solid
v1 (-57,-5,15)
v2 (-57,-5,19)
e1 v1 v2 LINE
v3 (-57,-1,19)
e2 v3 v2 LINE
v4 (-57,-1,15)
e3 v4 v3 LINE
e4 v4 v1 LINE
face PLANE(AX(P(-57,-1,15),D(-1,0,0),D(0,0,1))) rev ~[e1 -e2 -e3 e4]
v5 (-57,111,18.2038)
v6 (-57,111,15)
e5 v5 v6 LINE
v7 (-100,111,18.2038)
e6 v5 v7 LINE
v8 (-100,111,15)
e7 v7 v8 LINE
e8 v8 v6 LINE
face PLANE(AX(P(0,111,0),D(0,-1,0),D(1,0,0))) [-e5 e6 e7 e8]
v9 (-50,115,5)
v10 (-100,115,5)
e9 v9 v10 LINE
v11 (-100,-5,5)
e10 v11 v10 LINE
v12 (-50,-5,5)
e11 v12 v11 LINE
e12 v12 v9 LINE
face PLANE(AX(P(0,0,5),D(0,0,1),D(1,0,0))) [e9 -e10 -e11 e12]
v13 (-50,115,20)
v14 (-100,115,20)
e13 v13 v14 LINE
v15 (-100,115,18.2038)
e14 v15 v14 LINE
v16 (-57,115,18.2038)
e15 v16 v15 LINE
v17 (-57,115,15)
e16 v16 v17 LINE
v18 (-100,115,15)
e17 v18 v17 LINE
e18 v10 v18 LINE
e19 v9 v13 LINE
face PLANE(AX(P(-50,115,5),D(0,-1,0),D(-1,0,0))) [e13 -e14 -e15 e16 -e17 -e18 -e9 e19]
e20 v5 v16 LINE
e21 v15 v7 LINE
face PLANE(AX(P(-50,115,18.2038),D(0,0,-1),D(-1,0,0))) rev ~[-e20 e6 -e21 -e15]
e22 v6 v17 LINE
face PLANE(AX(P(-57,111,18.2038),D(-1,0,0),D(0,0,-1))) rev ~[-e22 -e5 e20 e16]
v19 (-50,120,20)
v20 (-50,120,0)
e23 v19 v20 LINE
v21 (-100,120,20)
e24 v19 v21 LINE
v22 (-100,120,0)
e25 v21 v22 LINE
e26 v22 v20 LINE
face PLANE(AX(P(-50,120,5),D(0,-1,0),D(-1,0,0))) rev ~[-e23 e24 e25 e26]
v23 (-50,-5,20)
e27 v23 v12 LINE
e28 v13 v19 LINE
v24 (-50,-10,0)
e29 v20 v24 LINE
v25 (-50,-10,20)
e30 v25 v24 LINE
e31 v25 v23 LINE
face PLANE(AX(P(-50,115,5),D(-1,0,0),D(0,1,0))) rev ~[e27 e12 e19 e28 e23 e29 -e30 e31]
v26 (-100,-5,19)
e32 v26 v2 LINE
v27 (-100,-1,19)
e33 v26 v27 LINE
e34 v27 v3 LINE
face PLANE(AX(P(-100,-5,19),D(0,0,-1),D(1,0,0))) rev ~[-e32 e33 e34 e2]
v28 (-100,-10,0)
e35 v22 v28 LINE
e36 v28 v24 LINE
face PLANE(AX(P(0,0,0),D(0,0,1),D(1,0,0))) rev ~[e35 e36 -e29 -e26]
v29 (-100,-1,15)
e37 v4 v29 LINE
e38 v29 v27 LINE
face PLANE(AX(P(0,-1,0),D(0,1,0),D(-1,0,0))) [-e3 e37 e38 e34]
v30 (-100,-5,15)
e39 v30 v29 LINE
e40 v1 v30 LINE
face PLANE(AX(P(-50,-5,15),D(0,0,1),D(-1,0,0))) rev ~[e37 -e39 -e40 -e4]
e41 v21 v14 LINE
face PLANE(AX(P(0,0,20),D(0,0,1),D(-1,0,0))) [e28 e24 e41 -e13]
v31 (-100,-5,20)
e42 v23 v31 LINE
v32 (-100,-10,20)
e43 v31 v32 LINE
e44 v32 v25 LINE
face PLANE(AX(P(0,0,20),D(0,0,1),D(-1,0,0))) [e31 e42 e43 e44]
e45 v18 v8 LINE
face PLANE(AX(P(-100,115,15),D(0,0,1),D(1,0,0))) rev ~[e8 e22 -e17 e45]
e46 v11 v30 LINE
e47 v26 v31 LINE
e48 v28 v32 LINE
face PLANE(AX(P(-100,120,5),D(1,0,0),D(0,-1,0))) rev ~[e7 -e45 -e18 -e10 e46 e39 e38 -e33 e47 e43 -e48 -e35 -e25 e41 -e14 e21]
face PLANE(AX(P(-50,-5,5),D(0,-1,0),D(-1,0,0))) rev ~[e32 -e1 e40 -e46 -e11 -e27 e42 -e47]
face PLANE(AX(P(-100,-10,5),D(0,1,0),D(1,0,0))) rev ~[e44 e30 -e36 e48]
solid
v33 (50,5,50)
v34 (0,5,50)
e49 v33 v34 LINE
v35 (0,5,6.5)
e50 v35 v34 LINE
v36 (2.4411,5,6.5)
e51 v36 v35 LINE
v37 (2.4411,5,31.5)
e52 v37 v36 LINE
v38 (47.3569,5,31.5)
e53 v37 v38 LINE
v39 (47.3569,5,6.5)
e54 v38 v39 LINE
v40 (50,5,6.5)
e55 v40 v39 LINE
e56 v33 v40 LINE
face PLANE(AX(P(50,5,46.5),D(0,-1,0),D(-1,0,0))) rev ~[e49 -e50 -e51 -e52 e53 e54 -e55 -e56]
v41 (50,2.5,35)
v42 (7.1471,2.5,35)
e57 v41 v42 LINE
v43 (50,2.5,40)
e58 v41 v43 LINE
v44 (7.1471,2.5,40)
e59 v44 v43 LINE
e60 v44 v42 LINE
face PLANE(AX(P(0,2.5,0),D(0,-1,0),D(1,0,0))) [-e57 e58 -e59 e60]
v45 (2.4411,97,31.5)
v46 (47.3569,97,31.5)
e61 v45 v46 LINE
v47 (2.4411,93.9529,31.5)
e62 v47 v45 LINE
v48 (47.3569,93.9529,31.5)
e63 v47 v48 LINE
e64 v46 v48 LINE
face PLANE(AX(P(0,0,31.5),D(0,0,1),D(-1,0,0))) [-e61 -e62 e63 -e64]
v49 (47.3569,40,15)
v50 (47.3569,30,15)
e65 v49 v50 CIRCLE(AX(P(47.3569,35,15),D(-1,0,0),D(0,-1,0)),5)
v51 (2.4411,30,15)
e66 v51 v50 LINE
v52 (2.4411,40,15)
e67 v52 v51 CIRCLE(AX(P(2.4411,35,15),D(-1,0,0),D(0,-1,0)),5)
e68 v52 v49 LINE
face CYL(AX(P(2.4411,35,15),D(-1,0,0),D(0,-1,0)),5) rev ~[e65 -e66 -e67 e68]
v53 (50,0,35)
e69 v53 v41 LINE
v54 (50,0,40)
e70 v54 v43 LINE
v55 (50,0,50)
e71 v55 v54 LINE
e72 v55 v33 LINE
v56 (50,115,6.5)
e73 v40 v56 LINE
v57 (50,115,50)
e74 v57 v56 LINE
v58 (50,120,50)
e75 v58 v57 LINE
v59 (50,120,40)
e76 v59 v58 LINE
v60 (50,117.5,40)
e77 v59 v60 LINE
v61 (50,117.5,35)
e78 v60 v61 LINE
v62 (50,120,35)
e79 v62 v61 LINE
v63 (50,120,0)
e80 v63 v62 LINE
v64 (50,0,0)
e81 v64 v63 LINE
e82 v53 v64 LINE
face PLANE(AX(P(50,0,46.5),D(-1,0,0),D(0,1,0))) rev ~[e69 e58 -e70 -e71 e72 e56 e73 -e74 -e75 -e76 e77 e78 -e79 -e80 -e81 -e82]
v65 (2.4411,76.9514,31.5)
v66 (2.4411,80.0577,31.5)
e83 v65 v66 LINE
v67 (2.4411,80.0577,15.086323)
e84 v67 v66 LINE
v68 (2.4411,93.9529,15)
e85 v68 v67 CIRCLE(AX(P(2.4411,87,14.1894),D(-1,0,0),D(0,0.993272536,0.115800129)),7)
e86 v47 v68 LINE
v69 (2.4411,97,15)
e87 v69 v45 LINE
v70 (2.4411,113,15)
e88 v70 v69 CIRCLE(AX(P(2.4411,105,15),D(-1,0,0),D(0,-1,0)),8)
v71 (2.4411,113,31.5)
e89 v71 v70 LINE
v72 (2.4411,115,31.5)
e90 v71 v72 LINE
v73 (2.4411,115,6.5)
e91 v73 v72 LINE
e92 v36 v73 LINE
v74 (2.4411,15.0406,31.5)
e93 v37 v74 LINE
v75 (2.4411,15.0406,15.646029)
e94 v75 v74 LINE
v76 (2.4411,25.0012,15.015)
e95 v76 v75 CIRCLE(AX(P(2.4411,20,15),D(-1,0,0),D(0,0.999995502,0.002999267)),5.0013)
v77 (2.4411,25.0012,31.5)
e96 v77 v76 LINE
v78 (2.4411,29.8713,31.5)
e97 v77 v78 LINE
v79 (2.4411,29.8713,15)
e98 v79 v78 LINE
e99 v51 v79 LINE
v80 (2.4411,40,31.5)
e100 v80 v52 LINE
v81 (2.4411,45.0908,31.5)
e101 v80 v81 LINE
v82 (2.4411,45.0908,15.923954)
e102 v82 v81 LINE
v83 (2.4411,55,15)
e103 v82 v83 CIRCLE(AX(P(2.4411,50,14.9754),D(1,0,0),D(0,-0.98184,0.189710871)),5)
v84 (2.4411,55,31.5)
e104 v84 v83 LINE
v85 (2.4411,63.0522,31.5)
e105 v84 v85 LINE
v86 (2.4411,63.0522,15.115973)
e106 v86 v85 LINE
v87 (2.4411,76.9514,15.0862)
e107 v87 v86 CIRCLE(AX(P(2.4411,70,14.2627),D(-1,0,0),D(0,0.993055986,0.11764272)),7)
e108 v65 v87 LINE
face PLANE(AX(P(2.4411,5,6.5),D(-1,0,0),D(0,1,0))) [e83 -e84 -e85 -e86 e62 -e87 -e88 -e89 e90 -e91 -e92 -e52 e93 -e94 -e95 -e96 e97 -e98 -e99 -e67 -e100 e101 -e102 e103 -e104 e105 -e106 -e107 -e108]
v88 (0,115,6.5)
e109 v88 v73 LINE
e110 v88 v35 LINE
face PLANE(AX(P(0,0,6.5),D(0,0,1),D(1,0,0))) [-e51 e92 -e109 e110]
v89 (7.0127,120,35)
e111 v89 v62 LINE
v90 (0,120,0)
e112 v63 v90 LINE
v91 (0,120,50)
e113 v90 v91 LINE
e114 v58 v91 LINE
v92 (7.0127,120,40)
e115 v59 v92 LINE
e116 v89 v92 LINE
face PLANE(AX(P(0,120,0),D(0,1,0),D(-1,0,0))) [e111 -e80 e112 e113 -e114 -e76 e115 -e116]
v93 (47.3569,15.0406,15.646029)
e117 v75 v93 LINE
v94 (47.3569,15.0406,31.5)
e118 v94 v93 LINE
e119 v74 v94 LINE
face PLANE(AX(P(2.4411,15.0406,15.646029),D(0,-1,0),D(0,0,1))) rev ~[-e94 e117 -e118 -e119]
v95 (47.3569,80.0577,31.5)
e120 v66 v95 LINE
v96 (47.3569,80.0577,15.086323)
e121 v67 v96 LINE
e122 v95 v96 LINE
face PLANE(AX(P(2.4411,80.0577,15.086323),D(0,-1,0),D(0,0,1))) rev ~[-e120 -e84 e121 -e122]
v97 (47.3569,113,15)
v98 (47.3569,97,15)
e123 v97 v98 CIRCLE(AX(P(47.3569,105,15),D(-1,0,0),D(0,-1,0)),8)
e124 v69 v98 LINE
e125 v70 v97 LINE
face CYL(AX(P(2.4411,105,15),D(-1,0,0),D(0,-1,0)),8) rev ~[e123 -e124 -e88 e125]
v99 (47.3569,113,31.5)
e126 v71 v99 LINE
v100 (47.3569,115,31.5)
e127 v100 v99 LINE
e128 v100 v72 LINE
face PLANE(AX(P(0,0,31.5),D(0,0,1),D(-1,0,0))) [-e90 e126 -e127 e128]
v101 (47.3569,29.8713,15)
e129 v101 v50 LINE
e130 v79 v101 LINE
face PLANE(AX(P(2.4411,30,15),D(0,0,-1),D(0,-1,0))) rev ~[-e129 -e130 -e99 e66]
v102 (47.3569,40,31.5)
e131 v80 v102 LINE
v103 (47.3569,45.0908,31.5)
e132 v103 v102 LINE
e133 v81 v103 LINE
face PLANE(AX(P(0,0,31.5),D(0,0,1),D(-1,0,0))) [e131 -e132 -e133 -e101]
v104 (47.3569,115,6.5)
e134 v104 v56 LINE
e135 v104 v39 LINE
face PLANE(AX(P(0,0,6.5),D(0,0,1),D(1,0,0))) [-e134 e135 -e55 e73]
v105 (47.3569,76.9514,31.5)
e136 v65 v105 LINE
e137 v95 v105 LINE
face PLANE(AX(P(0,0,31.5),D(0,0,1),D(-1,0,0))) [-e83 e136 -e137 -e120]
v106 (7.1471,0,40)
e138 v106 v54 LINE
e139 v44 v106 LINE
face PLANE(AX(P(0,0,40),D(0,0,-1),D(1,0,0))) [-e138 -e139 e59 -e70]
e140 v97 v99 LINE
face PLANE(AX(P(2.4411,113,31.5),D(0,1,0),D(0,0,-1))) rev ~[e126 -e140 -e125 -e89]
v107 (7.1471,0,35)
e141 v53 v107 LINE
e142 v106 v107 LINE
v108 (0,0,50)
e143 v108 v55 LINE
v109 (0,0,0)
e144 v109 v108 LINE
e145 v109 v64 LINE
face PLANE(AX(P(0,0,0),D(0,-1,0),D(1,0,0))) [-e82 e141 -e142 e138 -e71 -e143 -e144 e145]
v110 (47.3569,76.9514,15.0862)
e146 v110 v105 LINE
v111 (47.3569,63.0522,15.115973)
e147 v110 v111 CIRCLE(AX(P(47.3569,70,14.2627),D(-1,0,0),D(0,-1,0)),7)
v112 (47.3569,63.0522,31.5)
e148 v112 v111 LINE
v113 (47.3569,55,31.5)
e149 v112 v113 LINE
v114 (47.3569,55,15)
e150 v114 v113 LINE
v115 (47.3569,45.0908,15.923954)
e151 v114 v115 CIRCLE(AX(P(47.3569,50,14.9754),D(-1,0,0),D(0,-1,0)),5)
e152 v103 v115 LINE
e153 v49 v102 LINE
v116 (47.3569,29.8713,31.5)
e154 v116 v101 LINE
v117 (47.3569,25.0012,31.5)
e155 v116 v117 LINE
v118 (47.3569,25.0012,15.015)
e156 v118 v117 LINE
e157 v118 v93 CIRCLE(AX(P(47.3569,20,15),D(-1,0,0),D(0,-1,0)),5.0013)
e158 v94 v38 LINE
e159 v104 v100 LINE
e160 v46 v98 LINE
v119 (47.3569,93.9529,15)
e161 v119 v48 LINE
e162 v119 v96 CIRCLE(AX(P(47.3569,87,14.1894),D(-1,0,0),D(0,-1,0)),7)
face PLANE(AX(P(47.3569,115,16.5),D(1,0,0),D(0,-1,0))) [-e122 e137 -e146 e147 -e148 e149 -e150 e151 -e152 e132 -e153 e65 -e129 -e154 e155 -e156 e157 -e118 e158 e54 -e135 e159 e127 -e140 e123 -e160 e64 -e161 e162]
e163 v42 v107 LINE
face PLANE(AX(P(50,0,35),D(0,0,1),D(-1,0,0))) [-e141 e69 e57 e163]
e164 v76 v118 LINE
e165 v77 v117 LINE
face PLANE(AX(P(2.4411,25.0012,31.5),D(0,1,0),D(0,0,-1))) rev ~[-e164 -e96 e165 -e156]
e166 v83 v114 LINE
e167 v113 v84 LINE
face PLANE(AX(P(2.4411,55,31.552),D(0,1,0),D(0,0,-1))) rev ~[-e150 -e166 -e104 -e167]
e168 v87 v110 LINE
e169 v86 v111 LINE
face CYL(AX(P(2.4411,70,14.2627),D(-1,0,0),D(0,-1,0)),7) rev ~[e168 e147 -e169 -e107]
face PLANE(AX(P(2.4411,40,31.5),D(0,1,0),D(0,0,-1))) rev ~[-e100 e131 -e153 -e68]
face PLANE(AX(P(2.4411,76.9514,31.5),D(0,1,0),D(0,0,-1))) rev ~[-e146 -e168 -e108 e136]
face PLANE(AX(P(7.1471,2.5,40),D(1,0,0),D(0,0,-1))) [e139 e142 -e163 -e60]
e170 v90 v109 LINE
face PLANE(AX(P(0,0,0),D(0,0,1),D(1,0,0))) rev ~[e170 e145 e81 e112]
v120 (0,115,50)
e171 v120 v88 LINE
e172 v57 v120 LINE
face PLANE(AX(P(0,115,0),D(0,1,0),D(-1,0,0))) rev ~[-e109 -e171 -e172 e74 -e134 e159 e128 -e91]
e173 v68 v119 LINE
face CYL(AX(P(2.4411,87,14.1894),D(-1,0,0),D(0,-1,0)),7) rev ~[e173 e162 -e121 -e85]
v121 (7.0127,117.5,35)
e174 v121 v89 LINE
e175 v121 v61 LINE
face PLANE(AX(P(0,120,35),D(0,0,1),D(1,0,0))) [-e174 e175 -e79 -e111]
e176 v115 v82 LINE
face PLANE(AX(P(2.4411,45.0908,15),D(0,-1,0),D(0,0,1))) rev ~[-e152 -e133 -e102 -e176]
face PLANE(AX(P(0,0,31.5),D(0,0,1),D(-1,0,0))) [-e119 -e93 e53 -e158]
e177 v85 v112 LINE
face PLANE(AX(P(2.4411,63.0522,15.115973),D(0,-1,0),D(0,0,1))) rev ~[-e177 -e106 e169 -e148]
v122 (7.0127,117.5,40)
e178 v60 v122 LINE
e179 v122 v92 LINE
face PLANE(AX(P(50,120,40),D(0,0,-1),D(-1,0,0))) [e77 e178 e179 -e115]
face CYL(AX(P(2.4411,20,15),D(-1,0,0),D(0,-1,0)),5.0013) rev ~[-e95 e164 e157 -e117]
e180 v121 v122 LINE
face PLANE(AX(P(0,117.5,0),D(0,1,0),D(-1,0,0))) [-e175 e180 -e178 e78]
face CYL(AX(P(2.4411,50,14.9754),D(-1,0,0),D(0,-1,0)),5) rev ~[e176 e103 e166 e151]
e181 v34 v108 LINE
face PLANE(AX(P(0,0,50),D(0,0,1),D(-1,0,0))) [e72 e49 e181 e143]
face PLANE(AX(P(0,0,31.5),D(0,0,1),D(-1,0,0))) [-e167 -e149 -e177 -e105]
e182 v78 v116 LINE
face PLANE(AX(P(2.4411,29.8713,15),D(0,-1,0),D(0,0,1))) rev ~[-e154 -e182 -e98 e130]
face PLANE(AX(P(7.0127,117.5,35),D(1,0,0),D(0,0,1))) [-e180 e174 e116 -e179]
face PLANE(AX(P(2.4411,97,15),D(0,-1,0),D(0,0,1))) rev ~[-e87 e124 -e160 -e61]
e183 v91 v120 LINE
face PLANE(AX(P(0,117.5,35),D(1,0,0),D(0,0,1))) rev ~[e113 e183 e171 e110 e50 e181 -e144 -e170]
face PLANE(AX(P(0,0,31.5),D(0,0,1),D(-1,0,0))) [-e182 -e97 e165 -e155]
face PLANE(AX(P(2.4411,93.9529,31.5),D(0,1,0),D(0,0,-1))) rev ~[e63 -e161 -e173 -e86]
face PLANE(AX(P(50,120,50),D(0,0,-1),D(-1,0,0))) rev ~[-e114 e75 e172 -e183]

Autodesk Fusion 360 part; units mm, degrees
sketch "Sketch1" plane through (0, 0, 0) normal (0, 0, 1) x (1, 0, 0)
  line L0 (0, 0) -> (50, 0)
  line L1 (50, 0) -> (50, 120)
  line L2 (50, 120) -> (0, 120)
  line L3 (0, 120) -> (0, 0)
extrude "Extrude1" add sketch "Sketch1" along normal blind 6.5 makes body 1
sketch "Sketch2" plane through (0, 0, 6.5) normal (0, 0, 1) x (-1, 0, 0)
  line L0 (0, -120) -> (0, 0)
  line L1 (0, 0) -> (-50, 0)
  line L2 (-50, 0) -> (-50, -120)
  line L3 (-50, -120) -> (0, -120)
  line L4 (0, 0) -> (-50, 0)
  line L5 (-50, 0) -> (-50, -5)
  line L6 (-50, -5) -> (0, -5)
  line L7 (0, -5) -> (0, 0)
extrude "Extrude2" add sketch "Sketch2" along normal blind 40 contours L0 L1 L2 L4 L5 L6 L7 bodies 1
sketch "Sketch3" plane through (0, 0, 6.5) normal (0, 0, 1) x (-1, 0, 0)
  line L0 (0, -5) -> (-50, -5)
  line L1 (-50, -5) -> (-50, -120)
  line L2 (-50, -120) -> (0, -120)
  line L3 (0, -120) -> (0, -5)
  line L4 (-50, -120) -> (0, -120)
  line L5 (0, -120) -> (0, -115)
  line L6 (0, -115) -> (-50, -115)
  line L7 (-50, -115) -> (-50, -120)
extrude "Extrude3" add sketch "Sketch3" along normal blind 40 contours L1 L2 L3 L4 L5 L6 L7 bodies 1
sketch "Sketch4" plane through (0, 120, 0) normal (0, 1, 0) x (-1, 0, 0)
  line L0 (-50, 0) -> (0, 0)
  line L1 (0, 0) -> (0, 46.5)
  line L2 (0, 46.5) -> (-50, 46.5)
  line L3 (-50, 46.5) -> (-50, 0)
  line L4 (-50, 46.5) -> (-50, 50)
  line L5 (-50, 50) -> (0, 50)
  line L6 (0, 50) -> (0, 46.5)
extrude "Extrude4" add sketch "Sketch4" against normal blind 5 contours L2 L4 L5 L6 bodies 1
sketch "Sketch5" plane through (0, 0, 46.5) normal (0, 0, 1) x (-1, 0, 0)
  line L0 (0, -5) -> (0, 0)
  line L1 (0, 0) -> (-50, 0)
  line L2 (-50, 0) -> (-50, -5)
  line L3 (-50, -5) -> (0, -5)
  line L4 (0, 0) -> (0, -5)
  line L5 (-50, -5) -> (-50, 0)
extrude "Extrude5" add sketch "Sketch5" along normal blind 3.5 bodies 1
sketch "Sketch6" plane through (0, 120, 0) normal (0, 1, 0) x (-1, 0, 0)
  line L0 (-50, 0) -> (0, 0)
  line L1 (0, 0) -> (0, 50)
  line L2 (0, 50) -> (-50, 50)
  line L3 (-50, 50) -> (-50, 0)
  line L4 (-50, 40) -> (0, 40)
  line L5 (0, 40) -> (0, 35)
  line L6 (0, 35) -> (-50, 35)
  line L7 (-50, 35) -> (-50, 40)
extrude "Extrude6" cut sketch "Sketch6" against normal blind 2.5 contours L1 L3 L4 L5 L6 L7 bodies 1
sketch "Sketch7" plane through (0, 0, 0) normal (0, -1, 0) x (1, 0, 0)
  line L0 (0, 0) -> (50, 0)
  line L1 (50, 0) -> (50, 50)
  line L2 (50, 50) -> (0, 50)
  line L3 (0, 50) -> (0, 0)
  line L4 (0, 40) -> (50, 40)
  line L5 (50, 40) -> (50, 35)
  line L6 (50, 35) -> (0, 35)
  line L7 (0, 35) -> (0, 40)
extrude "Extrude7" cut sketch "Sketch7" against normal blind 2.5 contours L1 L3 L4 L5 L6 L7 bodies 1
sketch "Sketch8" plane through (0, 0, 6.5) normal (0, 0, 1) x (-1, 0, 0)
  line L0 (-50, -115) -> (0, -115)
  line L1 (0, -115) -> (0, -5)
  line L2 (0, -5) -> (-50, -5)
  line L3 (-50, -5) -> (-50, -115)
  line L4 (-2.4411, -115) -> (-47.3569, -115)
  line L5 (-47.3569, -115) -> (-47.3569, -5)
  line L6 (-47.3569, -5) -> (-2.4411, -5)
  line L7 (-2.4411, -5) -> (-2.4411, -115)
extrude "Extrude8" add sketch "Sketch8" along normal blind 10 contours L0 L2 L4 L5 L6 L7 bodies 1
extrude "Extrude9" add 1 faces at (32.385, 41.6667, 16.5) along direction (0, 0, 1) blind 15 on bodies 1 bodies 1
sketch "Sketch9" plane through (2.4411, 0, 0) normal (-1, 0, 0) x (0, -1, 0)
  line L0 (-115, 6.5) -> (-5, 6.5)
  line L1 (-5, 6.5) -> (-5, 31.5)
  line L2 (-5, 31.5) -> (-115, 31.5)
  line L3 (-115, 31.5) -> (-115, 6.5)
  circle A0 centre (-105, 15) radius 8
sketch "Sketch10" plane through (2.4411, 0, 0) normal (-1, 0, 0) x (0, -1, 0)
  line L0 (-113, 15) -> (-97, 15)
  line L1 (-97, 15) -> (-97, 31.5)
  line L2 (-97, 31.5) -> (-113, 31.5)
  line L3 (-113, 31.5) -> (-113, 15)
extrude "Extrude10" cut sketch "Sketch10" against normal blind 70 bodies 1
extrude "Extrude11" cut sketch "Sketch9" against normal blind 70 contours A0 bodies 1
sketch "Sketch11" plane through (2.4411, 0, 0) normal (-1, 0, 0) x (0, -1, 0)
  arc A0 (-113, 15) -> (-97, 15) centre (-105, 15) ccw
  line L0 (-113, 15) -> (-113, 31.5)
  line L1 (-113, 31.5) -> (-115, 31.5)
  line L2 (-115, 31.5) -> (-115, 6.5)
  line L3 (-115, 6.5) -> (-5, 6.5)
  line L4 (-5, 6.5) -> (-5, 31.5)
  line L5 (-5, 31.5) -> (-97, 31.5)
  line L6 (-97, 31.5) -> (-97, 15)
  circle A1 centre (-87, 14.1894) radius 7
  line L7 (-93.9529, 15) -> (-80.0577, 15)
  line L8 (-80.0577, 15) -> (-80.0577, 31.5)
  line L9 (-80.0577, 31.5) -> (-93.9529, 31.5)
  line L10 (-93.9529, 31.5) -> (-93.9529, 15)
  line L11 (-234.0751, -116.6627) -> (-124.5111, -116.6627)
  line L12 (-124.5111, -116.6627) -> (-124.5111, 18.1884)
  line L13 (-124.5111, 18.1884) -> (-234.0751, 18.1884)
  line L14 (-234.0751, 18.1884) -> (-234.0751, -116.6627)
extrude "Extrude12" cut sketch "Sketch11" against normal blind 80 contours L5 A1 L8 L9 L10 | A1 L7 L8 | A1 L7 L8 bodies 1
sketch "Sketch12" plane through (2.4411, 0, 0) normal (-1, 0, 0) x (0, -1, 0)
  line L0 (-80.0577, 31.5) -> (-80.0577, 15.0862)
  arc A0 (-93.9529, 15) -> (-80.0577, 15.0862) centre (-87, 14.1894) ccw
  line L1 (-93.9529, 15) -> (-93.9529, 31.5)
  line L2 (-93.9529, 31.5) -> (-97, 31.5)
  line L3 (-97, 31.5) -> (-97, 15)
  arc A1 (-113, 15) -> (-97, 15) centre (-105, 15) ccw
  line L4 (-113, 15) -> (-113, 31.5)
  line L5 (-113, 31.5) -> (-115, 31.5)
  line L6 (-115, 31.5) -> (-115, 6.5)
  line L7 (-115, 6.5) -> (-5, 6.5)
  line L8 (-5, 6.5) -> (-5, 31.5)
  line L9 (-5, 31.5) -> (-80.0577, 31.5)
  circle A2 centre (-70, 14.2627) radius 7
  line L10 (-76.9514, 15.0862) -> (-63.0522, 15.0862)
  line L11 (-63.0522, 15.0862) -> (-63.0522, 31.5)
  line L12 (-63.0522, 31.5) -> (-76.9514, 31.5)
  line L13 (-76.9514, 31.5) -> (-76.9514, 15.0862)
  dimension "d25" = 14
extrude "Extrude13" cut sketch "Sketch12" against normal blind 80 contours L9 A2 L11 L12 L13 | A2 L10 L11 | A2 L10 L11 bodies 1
sketch "Sketch13" plane through (2.4411, 0, 0) normal (-1, 0, 0) x (0, -1, 0)
  line L0 (-63.0522, 31.5) -> (-63.0522, 15.1163)
  arc A0 (-76.9514, 15.0862) -> (-63.0522, 15.1163) centre (-70, 14.2627) ccw
  line L1 (-76.9514, 15.0862) -> (-76.9514, 31.5)
  line L2 (-76.9514, 31.5) -> (-80.0577, 31.5)
  line L3 (-80.0577, 31.5) -> (-80.0577, 15.0862)
  arc A1 (-93.9529, 15) -> (-80.0577, 15.0862) centre (-87, 14.1894) ccw
  line L4 (-93.9529, 15) -> (-93.9529, 31.5)
  line L5 (-93.9529, 31.5) -> (-97, 31.5)
  line L6 (-97, 31.5) -> (-97, 15)
  arc A2 (-113, 15) -> (-97, 15) centre (-105, 15) ccw
  line L7 (-113, 15) -> (-113, 31.5)
  line L8 (-113, 31.5) -> (-115, 31.5)
  line L9 (-115, 31.5) -> (-115, 6.5)
  line L10 (-115, 6.5) -> (-5, 6.5)
  line L11 (-5, 6.5) -> (-5, 31.5)
  line L12 (-5, 31.5) -> (-63.0522, 31.5)
  circle A3 centre (-50, 14.9754) radius 5
sketch "Sketch14" plane through (2.4411, 0, 0) normal (-1, 0, 0) x (0, -1, 0)
  line L0 (-55, 15) -> (-45.0908, 15)
  line L1 (-45.0908, 15) -> (-45.0908, 31.552)
  line L2 (-45.0908, 31.552) -> (-55, 31.552)
  line L3 (-55, 31.552) -> (-55, 15)
extrude "Extrude14" cut sketch "Sketch13" sketch "Sketch14" against normal blind 900 contours A3 of sketch 2 bodies 1
sketch "Sketch15" plane through (2.4411, 0, 0) normal (-1, 0, 0) x (0, -1, 0)
  line L0 (-55, 15) -> (-55, 31.5)
  line L1 (-55, 31.5) -> (-63.0522, 31.5)
  line L2 (-63.0522, 31.5) -> (-63.0522, 15.1163)
  arc A0 (-76.9514, 15.0862) -> (-63.0522, 15.1163) centre (-70, 14.2627) ccw
  line L3 (-76.9514, 15.0862) -> (-76.9514, 31.5)
  line L4 (-76.9514, 31.5) -> (-80.0577, 31.5)
  line L5 (-80.0577, 31.5) -> (-80.0577, 15.0862)
  arc A1 (-93.9529, 15) -> (-80.0577, 15.0862) centre (-87, 14.1894) ccw
  line L6 (-93.9529, 15) -> (-93.9529, 31.5)
  line L7 (-93.9529, 31.5) -> (-97, 31.5)
  line L8 (-97, 31.5) -> (-97, 15)
  arc A2 (-113, 15) -> (-97, 15) centre (-105, 15) ccw
  line L9 (-113, 15) -> (-113, 31.5)
  line L10 (-113, 31.5) -> (-115, 31.5)
  line L11 (-115, 31.5) -> (-115, 6.5)
  line L12 (-115, 6.5) -> (-5, 6.5)
  line L13 (-5, 6.5) -> (-5, 31.5)
  line L14 (-5, 31.5) -> (-45.0908, 31.5)
  line L15 (-45.0908, 31.5) -> (-45.0908, 15.9237)
  arc A3 (-54.9999, 15) -> (-45.0908, 15.9237) centre (-50, 14.9754) ccw
  line L16 (-54.9999, 15) -> (-55, 15)
  circle A4 centre (-35, 15) radius 5
  line L17 (-40, 15) -> (-29.8713, 15)
  line L18 (-29.8713, 15) -> (-29.8713, 31.5)
  line L19 (-29.8713, 31.5) -> (-40, 31.5)
  line L20 (-40, 31.5) -> (-40, 15)
  dimension "d30" = 10
extrude "Extrude15" cut sketch "Sketch15" against normal blind 90 contours L14 A4 L17 L18 L19 L20 | A4 L17 | A4 L17 bodies 1
sketch "Sketch16" plane through (2.4411, 0, 0) normal (-1, 0, 0) x (0, -1, 0)
  line L0 (-29.8713, 31.5) -> (-29.8713, 15)
  line L1 (-29.8713, 15) -> (-30, 15)
  arc A0 (-40, 15) -> (-30, 15) centre (-35, 15) ccw
  line L2 (-40, 15) -> (-40, 31.5)
  line L3 (-40, 31.5) -> (-45.0908, 31.5)
  line L4 (-45.0908, 31.5) -> (-45.0908, 15.9237)
  arc A1 (-54.9999, 15) -> (-45.0908, 15.9237) centre (-50, 14.9754) ccw
  line L5 (-54.9999, 15) -> (-55, 15)
  line L6 (-55, 15) -> (-55, 31.5)
  line L7 (-55, 31.5) -> (-63.0522, 31.5)
  line L8 (-63.0522, 31.5) -> (-63.0522, 15.1163)
  arc A2 (-76.9514, 15.0862) -> (-63.0522, 15.1163) centre (-70, 14.2627) ccw
  line L9 (-76.9514, 15.0862) -> (-76.9514, 31.5)
  line L10 (-76.9514, 31.5) -> (-80.0577, 31.5)
  line L11 (-80.0577, 31.5) -> (-80.0577, 15.0862)
  arc A3 (-93.9529, 15) -> (-80.0577, 15.0862) centre (-87, 14.1894) ccw
  line L12 (-93.9529, 15) -> (-93.9529, 31.5)
  line L13 (-93.9529, 31.5) -> (-97, 31.5)
  line L14 (-97, 31.5) -> (-97, 15)
  arc A4 (-113, 15) -> (-97, 15) centre (-105, 15) ccw
  line L15 (-113, 15) -> (-113, 31.5)
  line L16 (-113, 31.5) -> (-115, 31.5)
  line L17 (-115, 31.5) -> (-115, 6.5)
  line L18 (-115, 6.5) -> (-5, 6.5)
  line L19 (-5, 6.5) -> (-5, 31.5)
  line L20 (-5, 31.5) -> (-29.8713, 31.5)
  circle A5 centre (-20, 15) radius 5.0013
  line L21 (-25.0012, 15.015) -> (-15.0406, 15.015)
  line L22 (-15.0406, 15.015) -> (-15.0406, 31.5)
  line L23 (-15.0406, 31.5) -> (-25.0012, 31.5)
  line L24 (-25.0012, 31.5) -> (-25.0012, 15.015)
extrude "Extrude16" cut sketch "Sketch16" against normal blind 900 contours L20 A5 L22 L23 L24 | A5 L21 L22 | A5 L21 L22 bodies 1
sketch "Sketch17" plane through (0, 2.5, 0) normal (0, -1, 0) x (1, 0, 0)
  line L0 (0, 35) -> (50, 35)
  line L1 (50, 35) -> (50, 40)
  line L2 (50, 40) -> (0, 40)
  line L3 (0, 40) -> (0, 35)
  line L4 (0, 40) -> (7.1471, 40)
  line L5 (7.1471, 40) -> (7.1471, 35)
  line L6 (7.1471, 35) -> (0, 35)
  line L7 (0, 35) -> (0, 40)
extrude "Extrude17" add sketch "Sketch17" along normal blind 2.5 contours L0 L2 L3 L4 L5 L6 L7 bodies 1
sketch "Sketch18" plane through (0, 117.5, 0) normal (0, 1, 0) x (-1, 0, 0)
  line L0 (-50, 35) -> (0, 35)
  line L1 (0, 35) -> (0, 40)
  line L2 (0, 40) -> (-50, 40)
  line L3 (-50, 40) -> (-50, 35)
  line L4 (0, 35) -> (-7.0127, 35)
  line L5 (-7.0127, 35) -> (-7.0127, 40)
  line L6 (-7.0127, 40) -> (0, 40)
  line L7 (0, 40) -> (0, 35)
extrude "Extrude18" add sketch "Sketch18" along normal blind 2.5 contours L0 L1 L2 L4 L5 L6 L7 bodies 1
sketch "Sketch19" plane through (0, 0, 0) normal (0, 0, 1) x (1, 0, 0)
sketch "Sketch20" plane through (0, 0, 0) normal (0, 0, 1) x (1, 0, 0)
sketch "Sketch21" plane through (0, 0, 0) normal (0, 0, 1) x (1, 0, 0)
  line L0 (-100, 120) -> (-50, 120)
  line L1 (-50, 120) -> (-50, -10)
  line L2 (-50, -10) -> (-100, -10)
  line L3 (-100, -10) -> (-100, 120)
  dimension "d39" = 50
  dimension "d40" = 130
sketch "Sketch22" plane through (0, 0, 0) normal (0, 0, 1) x (1, 0, 0)
  line L0 (-100, 120) -> (-50, 120)
  line L1 (-50, 120) -> (-50, 115)
  line L2 (-50, 115) -> (-100, 115)
  line L3 (-100, 115) -> (-100, 120)
  line L4 (-100, -10) -> (-50, -10)
  line L5 (-50, -10) -> (-50, -5)
  line L6 (-50, -5) -> (-100, -5)
  line L7 (-100, -5) -> (-100, -10)
extrude "Extrude19" add sketch "Sketch22" sketch "Sketch21" along normal blind 5 separate body contours L4 L5 L6 L7 of sketch 2 makes body 2
sketch "Sketch23" plane through (0, 0, 5) normal (0, 0, 1) x (-1, 0, 0)
  line L0 (100, -120) -> (100, 10)
  line L1 (100, 10) -> (50, 10)
  line L2 (50, 10) -> (50, -120)
  line L3 (50, -120) -> (100, -120)
  line L4 (100, 10) -> (50, 10)
  line L5 (50, 10) -> (50, 5)
  line L6 (50, 5) -> (100, 5)
  line L7 (100, 5) -> (100, 10)
  line L8 (100, -120) -> (50, -120)
  line L9 (50, -120) -> (50, -115)
  line L10 (50, -115) -> (100, -115)
  line L11 (100, -115) -> (100, -120)
extrude "Extrude20" add sketch "Sketch23" along normal blind 15 contours L0 L1 L2 L4 L5 L6 L7 bodies 2
sketch "Sketch24" plane through (0, 0, 5) normal (0, 0, 1) x (-1, 0, 0)
  line L0 (100, 5) -> (50, 5)
  line L1 (50, 5) -> (50, -120)
  line L2 (50, -120) -> (100, -120)
  line L3 (100, -120) -> (100, 5)
  line L4 (100, -120) -> (50, -120)
  line L5 (50, -120) -> (50, -115)
  line L6 (50, -115) -> (100, -115)
  line L7 (100, -115) -> (100, -120)
extrude "Extrude21" add sketch "Sketch24" along normal blind 15 contours L1 L2 L3 L4 L5 L6 L7 bodies 2
sketch "Sketch25" plane through (0, 115, 0) normal (0, -1, 0) x (1, 0, 0)
  line L0 (-100, 5) -> (-50, 5)
  line L1 (-50, 5) -> (-50, 20)
  line L2 (-50, 20) -> (-100, 20)
  line L3 (-100, 20) -> (-100, 5)
  line L4 (-100, 15) -> (-50, 15)
  line L5 (-50, 15) -> (-50, 18.2038)
  line L6 (-50, 18.2038) -> (-100, 18.2038)
  line L7 (-100, 18.2038) -> (-100, 15)
extrude "Extrude22" add sketch "Sketch25" along normal blind 4 contours L1 L3 L4 L5 L6 L7 bodies 2
sketch "Sketch26" plane through (0, -5, 0) normal (0, 1, 0) x (-1, 0, 0)
  line L0 (50, 5) -> (100, 5)
  line L1 (100, 5) -> (100, 20)
  line L2 (100, 20) -> (50, 20)
  line L3 (50, 20) -> (50, 5)
sketch "Sketch27" plane through (0, -5, 0) normal (0, 1, 0) x (-1, 0, 0)
sketch "Sketch28" plane through (0, -5, 0) normal (0, 1, 0) x (-1, 0, 0)
  line L0 (50, 15) -> (100, 15)
  line L1 (100, 15) -> (100, 19)
  line L2 (100, 19) -> (50, 19)
  line L3 (50, 19) -> (50, 15)
  dimension "d49" = 50
  dimension "d50" = 4
extrude "Extrude23" add sketch "Sketch28" along normal blind 4 bodies 2
sketch "Sketch29" plane through (0, 111, 0) normal (0, -1, 0) x (1, 0, 0)
  line L0 (-100, 18.2038) -> (-100, 15)
  line L1 (-100, 15) -> (-50, 15)
  line L2 (-50, 15) -> (-50, 18.2038)
  line L3 (-50, 18.2038) -> (-100, 18.2038)
  line L4 (-50, 18.2038) -> (-57, 18.2038)
  line L5 (-57, 18.2038) -> (-57, 15)
  line L6 (-57, 15) -> (-50, 15)
  line L7 (-50, 15) -> (-50, 18.2038)
  dimension "d53" = 7
extrude "Extrude24" cut sketch "Sketch29" against normal blind 4 contours L1 L2 L3 L4 L5 L6 L7 bodies 2
sketch "Sketch30" plane through (0, -1, 0) normal (0, 1, 0) x (-1, 0, 0)
  line L0 (50, 19) -> (50, 15)
  line L1 (50, 15) -> (100, 15)
  line L2 (100, 15) -> (100, 19)
  line L3 (100, 19) -> (50, 19)
  line L4 (50, 15) -> (57, 15)
  line L5 (57, 15) -> (57, 19)
  line L6 (57, 19) -> (50, 19)
  line L7 (50, 19) -> (50, 15)
  dimension "d56" = 7
extrude "Extrude25" cut sketch "Sketch30" against normal blind 4 contours L0 L1 L3 L4 L5 L6 L7 bodies 2
equation "d15 = cm"
